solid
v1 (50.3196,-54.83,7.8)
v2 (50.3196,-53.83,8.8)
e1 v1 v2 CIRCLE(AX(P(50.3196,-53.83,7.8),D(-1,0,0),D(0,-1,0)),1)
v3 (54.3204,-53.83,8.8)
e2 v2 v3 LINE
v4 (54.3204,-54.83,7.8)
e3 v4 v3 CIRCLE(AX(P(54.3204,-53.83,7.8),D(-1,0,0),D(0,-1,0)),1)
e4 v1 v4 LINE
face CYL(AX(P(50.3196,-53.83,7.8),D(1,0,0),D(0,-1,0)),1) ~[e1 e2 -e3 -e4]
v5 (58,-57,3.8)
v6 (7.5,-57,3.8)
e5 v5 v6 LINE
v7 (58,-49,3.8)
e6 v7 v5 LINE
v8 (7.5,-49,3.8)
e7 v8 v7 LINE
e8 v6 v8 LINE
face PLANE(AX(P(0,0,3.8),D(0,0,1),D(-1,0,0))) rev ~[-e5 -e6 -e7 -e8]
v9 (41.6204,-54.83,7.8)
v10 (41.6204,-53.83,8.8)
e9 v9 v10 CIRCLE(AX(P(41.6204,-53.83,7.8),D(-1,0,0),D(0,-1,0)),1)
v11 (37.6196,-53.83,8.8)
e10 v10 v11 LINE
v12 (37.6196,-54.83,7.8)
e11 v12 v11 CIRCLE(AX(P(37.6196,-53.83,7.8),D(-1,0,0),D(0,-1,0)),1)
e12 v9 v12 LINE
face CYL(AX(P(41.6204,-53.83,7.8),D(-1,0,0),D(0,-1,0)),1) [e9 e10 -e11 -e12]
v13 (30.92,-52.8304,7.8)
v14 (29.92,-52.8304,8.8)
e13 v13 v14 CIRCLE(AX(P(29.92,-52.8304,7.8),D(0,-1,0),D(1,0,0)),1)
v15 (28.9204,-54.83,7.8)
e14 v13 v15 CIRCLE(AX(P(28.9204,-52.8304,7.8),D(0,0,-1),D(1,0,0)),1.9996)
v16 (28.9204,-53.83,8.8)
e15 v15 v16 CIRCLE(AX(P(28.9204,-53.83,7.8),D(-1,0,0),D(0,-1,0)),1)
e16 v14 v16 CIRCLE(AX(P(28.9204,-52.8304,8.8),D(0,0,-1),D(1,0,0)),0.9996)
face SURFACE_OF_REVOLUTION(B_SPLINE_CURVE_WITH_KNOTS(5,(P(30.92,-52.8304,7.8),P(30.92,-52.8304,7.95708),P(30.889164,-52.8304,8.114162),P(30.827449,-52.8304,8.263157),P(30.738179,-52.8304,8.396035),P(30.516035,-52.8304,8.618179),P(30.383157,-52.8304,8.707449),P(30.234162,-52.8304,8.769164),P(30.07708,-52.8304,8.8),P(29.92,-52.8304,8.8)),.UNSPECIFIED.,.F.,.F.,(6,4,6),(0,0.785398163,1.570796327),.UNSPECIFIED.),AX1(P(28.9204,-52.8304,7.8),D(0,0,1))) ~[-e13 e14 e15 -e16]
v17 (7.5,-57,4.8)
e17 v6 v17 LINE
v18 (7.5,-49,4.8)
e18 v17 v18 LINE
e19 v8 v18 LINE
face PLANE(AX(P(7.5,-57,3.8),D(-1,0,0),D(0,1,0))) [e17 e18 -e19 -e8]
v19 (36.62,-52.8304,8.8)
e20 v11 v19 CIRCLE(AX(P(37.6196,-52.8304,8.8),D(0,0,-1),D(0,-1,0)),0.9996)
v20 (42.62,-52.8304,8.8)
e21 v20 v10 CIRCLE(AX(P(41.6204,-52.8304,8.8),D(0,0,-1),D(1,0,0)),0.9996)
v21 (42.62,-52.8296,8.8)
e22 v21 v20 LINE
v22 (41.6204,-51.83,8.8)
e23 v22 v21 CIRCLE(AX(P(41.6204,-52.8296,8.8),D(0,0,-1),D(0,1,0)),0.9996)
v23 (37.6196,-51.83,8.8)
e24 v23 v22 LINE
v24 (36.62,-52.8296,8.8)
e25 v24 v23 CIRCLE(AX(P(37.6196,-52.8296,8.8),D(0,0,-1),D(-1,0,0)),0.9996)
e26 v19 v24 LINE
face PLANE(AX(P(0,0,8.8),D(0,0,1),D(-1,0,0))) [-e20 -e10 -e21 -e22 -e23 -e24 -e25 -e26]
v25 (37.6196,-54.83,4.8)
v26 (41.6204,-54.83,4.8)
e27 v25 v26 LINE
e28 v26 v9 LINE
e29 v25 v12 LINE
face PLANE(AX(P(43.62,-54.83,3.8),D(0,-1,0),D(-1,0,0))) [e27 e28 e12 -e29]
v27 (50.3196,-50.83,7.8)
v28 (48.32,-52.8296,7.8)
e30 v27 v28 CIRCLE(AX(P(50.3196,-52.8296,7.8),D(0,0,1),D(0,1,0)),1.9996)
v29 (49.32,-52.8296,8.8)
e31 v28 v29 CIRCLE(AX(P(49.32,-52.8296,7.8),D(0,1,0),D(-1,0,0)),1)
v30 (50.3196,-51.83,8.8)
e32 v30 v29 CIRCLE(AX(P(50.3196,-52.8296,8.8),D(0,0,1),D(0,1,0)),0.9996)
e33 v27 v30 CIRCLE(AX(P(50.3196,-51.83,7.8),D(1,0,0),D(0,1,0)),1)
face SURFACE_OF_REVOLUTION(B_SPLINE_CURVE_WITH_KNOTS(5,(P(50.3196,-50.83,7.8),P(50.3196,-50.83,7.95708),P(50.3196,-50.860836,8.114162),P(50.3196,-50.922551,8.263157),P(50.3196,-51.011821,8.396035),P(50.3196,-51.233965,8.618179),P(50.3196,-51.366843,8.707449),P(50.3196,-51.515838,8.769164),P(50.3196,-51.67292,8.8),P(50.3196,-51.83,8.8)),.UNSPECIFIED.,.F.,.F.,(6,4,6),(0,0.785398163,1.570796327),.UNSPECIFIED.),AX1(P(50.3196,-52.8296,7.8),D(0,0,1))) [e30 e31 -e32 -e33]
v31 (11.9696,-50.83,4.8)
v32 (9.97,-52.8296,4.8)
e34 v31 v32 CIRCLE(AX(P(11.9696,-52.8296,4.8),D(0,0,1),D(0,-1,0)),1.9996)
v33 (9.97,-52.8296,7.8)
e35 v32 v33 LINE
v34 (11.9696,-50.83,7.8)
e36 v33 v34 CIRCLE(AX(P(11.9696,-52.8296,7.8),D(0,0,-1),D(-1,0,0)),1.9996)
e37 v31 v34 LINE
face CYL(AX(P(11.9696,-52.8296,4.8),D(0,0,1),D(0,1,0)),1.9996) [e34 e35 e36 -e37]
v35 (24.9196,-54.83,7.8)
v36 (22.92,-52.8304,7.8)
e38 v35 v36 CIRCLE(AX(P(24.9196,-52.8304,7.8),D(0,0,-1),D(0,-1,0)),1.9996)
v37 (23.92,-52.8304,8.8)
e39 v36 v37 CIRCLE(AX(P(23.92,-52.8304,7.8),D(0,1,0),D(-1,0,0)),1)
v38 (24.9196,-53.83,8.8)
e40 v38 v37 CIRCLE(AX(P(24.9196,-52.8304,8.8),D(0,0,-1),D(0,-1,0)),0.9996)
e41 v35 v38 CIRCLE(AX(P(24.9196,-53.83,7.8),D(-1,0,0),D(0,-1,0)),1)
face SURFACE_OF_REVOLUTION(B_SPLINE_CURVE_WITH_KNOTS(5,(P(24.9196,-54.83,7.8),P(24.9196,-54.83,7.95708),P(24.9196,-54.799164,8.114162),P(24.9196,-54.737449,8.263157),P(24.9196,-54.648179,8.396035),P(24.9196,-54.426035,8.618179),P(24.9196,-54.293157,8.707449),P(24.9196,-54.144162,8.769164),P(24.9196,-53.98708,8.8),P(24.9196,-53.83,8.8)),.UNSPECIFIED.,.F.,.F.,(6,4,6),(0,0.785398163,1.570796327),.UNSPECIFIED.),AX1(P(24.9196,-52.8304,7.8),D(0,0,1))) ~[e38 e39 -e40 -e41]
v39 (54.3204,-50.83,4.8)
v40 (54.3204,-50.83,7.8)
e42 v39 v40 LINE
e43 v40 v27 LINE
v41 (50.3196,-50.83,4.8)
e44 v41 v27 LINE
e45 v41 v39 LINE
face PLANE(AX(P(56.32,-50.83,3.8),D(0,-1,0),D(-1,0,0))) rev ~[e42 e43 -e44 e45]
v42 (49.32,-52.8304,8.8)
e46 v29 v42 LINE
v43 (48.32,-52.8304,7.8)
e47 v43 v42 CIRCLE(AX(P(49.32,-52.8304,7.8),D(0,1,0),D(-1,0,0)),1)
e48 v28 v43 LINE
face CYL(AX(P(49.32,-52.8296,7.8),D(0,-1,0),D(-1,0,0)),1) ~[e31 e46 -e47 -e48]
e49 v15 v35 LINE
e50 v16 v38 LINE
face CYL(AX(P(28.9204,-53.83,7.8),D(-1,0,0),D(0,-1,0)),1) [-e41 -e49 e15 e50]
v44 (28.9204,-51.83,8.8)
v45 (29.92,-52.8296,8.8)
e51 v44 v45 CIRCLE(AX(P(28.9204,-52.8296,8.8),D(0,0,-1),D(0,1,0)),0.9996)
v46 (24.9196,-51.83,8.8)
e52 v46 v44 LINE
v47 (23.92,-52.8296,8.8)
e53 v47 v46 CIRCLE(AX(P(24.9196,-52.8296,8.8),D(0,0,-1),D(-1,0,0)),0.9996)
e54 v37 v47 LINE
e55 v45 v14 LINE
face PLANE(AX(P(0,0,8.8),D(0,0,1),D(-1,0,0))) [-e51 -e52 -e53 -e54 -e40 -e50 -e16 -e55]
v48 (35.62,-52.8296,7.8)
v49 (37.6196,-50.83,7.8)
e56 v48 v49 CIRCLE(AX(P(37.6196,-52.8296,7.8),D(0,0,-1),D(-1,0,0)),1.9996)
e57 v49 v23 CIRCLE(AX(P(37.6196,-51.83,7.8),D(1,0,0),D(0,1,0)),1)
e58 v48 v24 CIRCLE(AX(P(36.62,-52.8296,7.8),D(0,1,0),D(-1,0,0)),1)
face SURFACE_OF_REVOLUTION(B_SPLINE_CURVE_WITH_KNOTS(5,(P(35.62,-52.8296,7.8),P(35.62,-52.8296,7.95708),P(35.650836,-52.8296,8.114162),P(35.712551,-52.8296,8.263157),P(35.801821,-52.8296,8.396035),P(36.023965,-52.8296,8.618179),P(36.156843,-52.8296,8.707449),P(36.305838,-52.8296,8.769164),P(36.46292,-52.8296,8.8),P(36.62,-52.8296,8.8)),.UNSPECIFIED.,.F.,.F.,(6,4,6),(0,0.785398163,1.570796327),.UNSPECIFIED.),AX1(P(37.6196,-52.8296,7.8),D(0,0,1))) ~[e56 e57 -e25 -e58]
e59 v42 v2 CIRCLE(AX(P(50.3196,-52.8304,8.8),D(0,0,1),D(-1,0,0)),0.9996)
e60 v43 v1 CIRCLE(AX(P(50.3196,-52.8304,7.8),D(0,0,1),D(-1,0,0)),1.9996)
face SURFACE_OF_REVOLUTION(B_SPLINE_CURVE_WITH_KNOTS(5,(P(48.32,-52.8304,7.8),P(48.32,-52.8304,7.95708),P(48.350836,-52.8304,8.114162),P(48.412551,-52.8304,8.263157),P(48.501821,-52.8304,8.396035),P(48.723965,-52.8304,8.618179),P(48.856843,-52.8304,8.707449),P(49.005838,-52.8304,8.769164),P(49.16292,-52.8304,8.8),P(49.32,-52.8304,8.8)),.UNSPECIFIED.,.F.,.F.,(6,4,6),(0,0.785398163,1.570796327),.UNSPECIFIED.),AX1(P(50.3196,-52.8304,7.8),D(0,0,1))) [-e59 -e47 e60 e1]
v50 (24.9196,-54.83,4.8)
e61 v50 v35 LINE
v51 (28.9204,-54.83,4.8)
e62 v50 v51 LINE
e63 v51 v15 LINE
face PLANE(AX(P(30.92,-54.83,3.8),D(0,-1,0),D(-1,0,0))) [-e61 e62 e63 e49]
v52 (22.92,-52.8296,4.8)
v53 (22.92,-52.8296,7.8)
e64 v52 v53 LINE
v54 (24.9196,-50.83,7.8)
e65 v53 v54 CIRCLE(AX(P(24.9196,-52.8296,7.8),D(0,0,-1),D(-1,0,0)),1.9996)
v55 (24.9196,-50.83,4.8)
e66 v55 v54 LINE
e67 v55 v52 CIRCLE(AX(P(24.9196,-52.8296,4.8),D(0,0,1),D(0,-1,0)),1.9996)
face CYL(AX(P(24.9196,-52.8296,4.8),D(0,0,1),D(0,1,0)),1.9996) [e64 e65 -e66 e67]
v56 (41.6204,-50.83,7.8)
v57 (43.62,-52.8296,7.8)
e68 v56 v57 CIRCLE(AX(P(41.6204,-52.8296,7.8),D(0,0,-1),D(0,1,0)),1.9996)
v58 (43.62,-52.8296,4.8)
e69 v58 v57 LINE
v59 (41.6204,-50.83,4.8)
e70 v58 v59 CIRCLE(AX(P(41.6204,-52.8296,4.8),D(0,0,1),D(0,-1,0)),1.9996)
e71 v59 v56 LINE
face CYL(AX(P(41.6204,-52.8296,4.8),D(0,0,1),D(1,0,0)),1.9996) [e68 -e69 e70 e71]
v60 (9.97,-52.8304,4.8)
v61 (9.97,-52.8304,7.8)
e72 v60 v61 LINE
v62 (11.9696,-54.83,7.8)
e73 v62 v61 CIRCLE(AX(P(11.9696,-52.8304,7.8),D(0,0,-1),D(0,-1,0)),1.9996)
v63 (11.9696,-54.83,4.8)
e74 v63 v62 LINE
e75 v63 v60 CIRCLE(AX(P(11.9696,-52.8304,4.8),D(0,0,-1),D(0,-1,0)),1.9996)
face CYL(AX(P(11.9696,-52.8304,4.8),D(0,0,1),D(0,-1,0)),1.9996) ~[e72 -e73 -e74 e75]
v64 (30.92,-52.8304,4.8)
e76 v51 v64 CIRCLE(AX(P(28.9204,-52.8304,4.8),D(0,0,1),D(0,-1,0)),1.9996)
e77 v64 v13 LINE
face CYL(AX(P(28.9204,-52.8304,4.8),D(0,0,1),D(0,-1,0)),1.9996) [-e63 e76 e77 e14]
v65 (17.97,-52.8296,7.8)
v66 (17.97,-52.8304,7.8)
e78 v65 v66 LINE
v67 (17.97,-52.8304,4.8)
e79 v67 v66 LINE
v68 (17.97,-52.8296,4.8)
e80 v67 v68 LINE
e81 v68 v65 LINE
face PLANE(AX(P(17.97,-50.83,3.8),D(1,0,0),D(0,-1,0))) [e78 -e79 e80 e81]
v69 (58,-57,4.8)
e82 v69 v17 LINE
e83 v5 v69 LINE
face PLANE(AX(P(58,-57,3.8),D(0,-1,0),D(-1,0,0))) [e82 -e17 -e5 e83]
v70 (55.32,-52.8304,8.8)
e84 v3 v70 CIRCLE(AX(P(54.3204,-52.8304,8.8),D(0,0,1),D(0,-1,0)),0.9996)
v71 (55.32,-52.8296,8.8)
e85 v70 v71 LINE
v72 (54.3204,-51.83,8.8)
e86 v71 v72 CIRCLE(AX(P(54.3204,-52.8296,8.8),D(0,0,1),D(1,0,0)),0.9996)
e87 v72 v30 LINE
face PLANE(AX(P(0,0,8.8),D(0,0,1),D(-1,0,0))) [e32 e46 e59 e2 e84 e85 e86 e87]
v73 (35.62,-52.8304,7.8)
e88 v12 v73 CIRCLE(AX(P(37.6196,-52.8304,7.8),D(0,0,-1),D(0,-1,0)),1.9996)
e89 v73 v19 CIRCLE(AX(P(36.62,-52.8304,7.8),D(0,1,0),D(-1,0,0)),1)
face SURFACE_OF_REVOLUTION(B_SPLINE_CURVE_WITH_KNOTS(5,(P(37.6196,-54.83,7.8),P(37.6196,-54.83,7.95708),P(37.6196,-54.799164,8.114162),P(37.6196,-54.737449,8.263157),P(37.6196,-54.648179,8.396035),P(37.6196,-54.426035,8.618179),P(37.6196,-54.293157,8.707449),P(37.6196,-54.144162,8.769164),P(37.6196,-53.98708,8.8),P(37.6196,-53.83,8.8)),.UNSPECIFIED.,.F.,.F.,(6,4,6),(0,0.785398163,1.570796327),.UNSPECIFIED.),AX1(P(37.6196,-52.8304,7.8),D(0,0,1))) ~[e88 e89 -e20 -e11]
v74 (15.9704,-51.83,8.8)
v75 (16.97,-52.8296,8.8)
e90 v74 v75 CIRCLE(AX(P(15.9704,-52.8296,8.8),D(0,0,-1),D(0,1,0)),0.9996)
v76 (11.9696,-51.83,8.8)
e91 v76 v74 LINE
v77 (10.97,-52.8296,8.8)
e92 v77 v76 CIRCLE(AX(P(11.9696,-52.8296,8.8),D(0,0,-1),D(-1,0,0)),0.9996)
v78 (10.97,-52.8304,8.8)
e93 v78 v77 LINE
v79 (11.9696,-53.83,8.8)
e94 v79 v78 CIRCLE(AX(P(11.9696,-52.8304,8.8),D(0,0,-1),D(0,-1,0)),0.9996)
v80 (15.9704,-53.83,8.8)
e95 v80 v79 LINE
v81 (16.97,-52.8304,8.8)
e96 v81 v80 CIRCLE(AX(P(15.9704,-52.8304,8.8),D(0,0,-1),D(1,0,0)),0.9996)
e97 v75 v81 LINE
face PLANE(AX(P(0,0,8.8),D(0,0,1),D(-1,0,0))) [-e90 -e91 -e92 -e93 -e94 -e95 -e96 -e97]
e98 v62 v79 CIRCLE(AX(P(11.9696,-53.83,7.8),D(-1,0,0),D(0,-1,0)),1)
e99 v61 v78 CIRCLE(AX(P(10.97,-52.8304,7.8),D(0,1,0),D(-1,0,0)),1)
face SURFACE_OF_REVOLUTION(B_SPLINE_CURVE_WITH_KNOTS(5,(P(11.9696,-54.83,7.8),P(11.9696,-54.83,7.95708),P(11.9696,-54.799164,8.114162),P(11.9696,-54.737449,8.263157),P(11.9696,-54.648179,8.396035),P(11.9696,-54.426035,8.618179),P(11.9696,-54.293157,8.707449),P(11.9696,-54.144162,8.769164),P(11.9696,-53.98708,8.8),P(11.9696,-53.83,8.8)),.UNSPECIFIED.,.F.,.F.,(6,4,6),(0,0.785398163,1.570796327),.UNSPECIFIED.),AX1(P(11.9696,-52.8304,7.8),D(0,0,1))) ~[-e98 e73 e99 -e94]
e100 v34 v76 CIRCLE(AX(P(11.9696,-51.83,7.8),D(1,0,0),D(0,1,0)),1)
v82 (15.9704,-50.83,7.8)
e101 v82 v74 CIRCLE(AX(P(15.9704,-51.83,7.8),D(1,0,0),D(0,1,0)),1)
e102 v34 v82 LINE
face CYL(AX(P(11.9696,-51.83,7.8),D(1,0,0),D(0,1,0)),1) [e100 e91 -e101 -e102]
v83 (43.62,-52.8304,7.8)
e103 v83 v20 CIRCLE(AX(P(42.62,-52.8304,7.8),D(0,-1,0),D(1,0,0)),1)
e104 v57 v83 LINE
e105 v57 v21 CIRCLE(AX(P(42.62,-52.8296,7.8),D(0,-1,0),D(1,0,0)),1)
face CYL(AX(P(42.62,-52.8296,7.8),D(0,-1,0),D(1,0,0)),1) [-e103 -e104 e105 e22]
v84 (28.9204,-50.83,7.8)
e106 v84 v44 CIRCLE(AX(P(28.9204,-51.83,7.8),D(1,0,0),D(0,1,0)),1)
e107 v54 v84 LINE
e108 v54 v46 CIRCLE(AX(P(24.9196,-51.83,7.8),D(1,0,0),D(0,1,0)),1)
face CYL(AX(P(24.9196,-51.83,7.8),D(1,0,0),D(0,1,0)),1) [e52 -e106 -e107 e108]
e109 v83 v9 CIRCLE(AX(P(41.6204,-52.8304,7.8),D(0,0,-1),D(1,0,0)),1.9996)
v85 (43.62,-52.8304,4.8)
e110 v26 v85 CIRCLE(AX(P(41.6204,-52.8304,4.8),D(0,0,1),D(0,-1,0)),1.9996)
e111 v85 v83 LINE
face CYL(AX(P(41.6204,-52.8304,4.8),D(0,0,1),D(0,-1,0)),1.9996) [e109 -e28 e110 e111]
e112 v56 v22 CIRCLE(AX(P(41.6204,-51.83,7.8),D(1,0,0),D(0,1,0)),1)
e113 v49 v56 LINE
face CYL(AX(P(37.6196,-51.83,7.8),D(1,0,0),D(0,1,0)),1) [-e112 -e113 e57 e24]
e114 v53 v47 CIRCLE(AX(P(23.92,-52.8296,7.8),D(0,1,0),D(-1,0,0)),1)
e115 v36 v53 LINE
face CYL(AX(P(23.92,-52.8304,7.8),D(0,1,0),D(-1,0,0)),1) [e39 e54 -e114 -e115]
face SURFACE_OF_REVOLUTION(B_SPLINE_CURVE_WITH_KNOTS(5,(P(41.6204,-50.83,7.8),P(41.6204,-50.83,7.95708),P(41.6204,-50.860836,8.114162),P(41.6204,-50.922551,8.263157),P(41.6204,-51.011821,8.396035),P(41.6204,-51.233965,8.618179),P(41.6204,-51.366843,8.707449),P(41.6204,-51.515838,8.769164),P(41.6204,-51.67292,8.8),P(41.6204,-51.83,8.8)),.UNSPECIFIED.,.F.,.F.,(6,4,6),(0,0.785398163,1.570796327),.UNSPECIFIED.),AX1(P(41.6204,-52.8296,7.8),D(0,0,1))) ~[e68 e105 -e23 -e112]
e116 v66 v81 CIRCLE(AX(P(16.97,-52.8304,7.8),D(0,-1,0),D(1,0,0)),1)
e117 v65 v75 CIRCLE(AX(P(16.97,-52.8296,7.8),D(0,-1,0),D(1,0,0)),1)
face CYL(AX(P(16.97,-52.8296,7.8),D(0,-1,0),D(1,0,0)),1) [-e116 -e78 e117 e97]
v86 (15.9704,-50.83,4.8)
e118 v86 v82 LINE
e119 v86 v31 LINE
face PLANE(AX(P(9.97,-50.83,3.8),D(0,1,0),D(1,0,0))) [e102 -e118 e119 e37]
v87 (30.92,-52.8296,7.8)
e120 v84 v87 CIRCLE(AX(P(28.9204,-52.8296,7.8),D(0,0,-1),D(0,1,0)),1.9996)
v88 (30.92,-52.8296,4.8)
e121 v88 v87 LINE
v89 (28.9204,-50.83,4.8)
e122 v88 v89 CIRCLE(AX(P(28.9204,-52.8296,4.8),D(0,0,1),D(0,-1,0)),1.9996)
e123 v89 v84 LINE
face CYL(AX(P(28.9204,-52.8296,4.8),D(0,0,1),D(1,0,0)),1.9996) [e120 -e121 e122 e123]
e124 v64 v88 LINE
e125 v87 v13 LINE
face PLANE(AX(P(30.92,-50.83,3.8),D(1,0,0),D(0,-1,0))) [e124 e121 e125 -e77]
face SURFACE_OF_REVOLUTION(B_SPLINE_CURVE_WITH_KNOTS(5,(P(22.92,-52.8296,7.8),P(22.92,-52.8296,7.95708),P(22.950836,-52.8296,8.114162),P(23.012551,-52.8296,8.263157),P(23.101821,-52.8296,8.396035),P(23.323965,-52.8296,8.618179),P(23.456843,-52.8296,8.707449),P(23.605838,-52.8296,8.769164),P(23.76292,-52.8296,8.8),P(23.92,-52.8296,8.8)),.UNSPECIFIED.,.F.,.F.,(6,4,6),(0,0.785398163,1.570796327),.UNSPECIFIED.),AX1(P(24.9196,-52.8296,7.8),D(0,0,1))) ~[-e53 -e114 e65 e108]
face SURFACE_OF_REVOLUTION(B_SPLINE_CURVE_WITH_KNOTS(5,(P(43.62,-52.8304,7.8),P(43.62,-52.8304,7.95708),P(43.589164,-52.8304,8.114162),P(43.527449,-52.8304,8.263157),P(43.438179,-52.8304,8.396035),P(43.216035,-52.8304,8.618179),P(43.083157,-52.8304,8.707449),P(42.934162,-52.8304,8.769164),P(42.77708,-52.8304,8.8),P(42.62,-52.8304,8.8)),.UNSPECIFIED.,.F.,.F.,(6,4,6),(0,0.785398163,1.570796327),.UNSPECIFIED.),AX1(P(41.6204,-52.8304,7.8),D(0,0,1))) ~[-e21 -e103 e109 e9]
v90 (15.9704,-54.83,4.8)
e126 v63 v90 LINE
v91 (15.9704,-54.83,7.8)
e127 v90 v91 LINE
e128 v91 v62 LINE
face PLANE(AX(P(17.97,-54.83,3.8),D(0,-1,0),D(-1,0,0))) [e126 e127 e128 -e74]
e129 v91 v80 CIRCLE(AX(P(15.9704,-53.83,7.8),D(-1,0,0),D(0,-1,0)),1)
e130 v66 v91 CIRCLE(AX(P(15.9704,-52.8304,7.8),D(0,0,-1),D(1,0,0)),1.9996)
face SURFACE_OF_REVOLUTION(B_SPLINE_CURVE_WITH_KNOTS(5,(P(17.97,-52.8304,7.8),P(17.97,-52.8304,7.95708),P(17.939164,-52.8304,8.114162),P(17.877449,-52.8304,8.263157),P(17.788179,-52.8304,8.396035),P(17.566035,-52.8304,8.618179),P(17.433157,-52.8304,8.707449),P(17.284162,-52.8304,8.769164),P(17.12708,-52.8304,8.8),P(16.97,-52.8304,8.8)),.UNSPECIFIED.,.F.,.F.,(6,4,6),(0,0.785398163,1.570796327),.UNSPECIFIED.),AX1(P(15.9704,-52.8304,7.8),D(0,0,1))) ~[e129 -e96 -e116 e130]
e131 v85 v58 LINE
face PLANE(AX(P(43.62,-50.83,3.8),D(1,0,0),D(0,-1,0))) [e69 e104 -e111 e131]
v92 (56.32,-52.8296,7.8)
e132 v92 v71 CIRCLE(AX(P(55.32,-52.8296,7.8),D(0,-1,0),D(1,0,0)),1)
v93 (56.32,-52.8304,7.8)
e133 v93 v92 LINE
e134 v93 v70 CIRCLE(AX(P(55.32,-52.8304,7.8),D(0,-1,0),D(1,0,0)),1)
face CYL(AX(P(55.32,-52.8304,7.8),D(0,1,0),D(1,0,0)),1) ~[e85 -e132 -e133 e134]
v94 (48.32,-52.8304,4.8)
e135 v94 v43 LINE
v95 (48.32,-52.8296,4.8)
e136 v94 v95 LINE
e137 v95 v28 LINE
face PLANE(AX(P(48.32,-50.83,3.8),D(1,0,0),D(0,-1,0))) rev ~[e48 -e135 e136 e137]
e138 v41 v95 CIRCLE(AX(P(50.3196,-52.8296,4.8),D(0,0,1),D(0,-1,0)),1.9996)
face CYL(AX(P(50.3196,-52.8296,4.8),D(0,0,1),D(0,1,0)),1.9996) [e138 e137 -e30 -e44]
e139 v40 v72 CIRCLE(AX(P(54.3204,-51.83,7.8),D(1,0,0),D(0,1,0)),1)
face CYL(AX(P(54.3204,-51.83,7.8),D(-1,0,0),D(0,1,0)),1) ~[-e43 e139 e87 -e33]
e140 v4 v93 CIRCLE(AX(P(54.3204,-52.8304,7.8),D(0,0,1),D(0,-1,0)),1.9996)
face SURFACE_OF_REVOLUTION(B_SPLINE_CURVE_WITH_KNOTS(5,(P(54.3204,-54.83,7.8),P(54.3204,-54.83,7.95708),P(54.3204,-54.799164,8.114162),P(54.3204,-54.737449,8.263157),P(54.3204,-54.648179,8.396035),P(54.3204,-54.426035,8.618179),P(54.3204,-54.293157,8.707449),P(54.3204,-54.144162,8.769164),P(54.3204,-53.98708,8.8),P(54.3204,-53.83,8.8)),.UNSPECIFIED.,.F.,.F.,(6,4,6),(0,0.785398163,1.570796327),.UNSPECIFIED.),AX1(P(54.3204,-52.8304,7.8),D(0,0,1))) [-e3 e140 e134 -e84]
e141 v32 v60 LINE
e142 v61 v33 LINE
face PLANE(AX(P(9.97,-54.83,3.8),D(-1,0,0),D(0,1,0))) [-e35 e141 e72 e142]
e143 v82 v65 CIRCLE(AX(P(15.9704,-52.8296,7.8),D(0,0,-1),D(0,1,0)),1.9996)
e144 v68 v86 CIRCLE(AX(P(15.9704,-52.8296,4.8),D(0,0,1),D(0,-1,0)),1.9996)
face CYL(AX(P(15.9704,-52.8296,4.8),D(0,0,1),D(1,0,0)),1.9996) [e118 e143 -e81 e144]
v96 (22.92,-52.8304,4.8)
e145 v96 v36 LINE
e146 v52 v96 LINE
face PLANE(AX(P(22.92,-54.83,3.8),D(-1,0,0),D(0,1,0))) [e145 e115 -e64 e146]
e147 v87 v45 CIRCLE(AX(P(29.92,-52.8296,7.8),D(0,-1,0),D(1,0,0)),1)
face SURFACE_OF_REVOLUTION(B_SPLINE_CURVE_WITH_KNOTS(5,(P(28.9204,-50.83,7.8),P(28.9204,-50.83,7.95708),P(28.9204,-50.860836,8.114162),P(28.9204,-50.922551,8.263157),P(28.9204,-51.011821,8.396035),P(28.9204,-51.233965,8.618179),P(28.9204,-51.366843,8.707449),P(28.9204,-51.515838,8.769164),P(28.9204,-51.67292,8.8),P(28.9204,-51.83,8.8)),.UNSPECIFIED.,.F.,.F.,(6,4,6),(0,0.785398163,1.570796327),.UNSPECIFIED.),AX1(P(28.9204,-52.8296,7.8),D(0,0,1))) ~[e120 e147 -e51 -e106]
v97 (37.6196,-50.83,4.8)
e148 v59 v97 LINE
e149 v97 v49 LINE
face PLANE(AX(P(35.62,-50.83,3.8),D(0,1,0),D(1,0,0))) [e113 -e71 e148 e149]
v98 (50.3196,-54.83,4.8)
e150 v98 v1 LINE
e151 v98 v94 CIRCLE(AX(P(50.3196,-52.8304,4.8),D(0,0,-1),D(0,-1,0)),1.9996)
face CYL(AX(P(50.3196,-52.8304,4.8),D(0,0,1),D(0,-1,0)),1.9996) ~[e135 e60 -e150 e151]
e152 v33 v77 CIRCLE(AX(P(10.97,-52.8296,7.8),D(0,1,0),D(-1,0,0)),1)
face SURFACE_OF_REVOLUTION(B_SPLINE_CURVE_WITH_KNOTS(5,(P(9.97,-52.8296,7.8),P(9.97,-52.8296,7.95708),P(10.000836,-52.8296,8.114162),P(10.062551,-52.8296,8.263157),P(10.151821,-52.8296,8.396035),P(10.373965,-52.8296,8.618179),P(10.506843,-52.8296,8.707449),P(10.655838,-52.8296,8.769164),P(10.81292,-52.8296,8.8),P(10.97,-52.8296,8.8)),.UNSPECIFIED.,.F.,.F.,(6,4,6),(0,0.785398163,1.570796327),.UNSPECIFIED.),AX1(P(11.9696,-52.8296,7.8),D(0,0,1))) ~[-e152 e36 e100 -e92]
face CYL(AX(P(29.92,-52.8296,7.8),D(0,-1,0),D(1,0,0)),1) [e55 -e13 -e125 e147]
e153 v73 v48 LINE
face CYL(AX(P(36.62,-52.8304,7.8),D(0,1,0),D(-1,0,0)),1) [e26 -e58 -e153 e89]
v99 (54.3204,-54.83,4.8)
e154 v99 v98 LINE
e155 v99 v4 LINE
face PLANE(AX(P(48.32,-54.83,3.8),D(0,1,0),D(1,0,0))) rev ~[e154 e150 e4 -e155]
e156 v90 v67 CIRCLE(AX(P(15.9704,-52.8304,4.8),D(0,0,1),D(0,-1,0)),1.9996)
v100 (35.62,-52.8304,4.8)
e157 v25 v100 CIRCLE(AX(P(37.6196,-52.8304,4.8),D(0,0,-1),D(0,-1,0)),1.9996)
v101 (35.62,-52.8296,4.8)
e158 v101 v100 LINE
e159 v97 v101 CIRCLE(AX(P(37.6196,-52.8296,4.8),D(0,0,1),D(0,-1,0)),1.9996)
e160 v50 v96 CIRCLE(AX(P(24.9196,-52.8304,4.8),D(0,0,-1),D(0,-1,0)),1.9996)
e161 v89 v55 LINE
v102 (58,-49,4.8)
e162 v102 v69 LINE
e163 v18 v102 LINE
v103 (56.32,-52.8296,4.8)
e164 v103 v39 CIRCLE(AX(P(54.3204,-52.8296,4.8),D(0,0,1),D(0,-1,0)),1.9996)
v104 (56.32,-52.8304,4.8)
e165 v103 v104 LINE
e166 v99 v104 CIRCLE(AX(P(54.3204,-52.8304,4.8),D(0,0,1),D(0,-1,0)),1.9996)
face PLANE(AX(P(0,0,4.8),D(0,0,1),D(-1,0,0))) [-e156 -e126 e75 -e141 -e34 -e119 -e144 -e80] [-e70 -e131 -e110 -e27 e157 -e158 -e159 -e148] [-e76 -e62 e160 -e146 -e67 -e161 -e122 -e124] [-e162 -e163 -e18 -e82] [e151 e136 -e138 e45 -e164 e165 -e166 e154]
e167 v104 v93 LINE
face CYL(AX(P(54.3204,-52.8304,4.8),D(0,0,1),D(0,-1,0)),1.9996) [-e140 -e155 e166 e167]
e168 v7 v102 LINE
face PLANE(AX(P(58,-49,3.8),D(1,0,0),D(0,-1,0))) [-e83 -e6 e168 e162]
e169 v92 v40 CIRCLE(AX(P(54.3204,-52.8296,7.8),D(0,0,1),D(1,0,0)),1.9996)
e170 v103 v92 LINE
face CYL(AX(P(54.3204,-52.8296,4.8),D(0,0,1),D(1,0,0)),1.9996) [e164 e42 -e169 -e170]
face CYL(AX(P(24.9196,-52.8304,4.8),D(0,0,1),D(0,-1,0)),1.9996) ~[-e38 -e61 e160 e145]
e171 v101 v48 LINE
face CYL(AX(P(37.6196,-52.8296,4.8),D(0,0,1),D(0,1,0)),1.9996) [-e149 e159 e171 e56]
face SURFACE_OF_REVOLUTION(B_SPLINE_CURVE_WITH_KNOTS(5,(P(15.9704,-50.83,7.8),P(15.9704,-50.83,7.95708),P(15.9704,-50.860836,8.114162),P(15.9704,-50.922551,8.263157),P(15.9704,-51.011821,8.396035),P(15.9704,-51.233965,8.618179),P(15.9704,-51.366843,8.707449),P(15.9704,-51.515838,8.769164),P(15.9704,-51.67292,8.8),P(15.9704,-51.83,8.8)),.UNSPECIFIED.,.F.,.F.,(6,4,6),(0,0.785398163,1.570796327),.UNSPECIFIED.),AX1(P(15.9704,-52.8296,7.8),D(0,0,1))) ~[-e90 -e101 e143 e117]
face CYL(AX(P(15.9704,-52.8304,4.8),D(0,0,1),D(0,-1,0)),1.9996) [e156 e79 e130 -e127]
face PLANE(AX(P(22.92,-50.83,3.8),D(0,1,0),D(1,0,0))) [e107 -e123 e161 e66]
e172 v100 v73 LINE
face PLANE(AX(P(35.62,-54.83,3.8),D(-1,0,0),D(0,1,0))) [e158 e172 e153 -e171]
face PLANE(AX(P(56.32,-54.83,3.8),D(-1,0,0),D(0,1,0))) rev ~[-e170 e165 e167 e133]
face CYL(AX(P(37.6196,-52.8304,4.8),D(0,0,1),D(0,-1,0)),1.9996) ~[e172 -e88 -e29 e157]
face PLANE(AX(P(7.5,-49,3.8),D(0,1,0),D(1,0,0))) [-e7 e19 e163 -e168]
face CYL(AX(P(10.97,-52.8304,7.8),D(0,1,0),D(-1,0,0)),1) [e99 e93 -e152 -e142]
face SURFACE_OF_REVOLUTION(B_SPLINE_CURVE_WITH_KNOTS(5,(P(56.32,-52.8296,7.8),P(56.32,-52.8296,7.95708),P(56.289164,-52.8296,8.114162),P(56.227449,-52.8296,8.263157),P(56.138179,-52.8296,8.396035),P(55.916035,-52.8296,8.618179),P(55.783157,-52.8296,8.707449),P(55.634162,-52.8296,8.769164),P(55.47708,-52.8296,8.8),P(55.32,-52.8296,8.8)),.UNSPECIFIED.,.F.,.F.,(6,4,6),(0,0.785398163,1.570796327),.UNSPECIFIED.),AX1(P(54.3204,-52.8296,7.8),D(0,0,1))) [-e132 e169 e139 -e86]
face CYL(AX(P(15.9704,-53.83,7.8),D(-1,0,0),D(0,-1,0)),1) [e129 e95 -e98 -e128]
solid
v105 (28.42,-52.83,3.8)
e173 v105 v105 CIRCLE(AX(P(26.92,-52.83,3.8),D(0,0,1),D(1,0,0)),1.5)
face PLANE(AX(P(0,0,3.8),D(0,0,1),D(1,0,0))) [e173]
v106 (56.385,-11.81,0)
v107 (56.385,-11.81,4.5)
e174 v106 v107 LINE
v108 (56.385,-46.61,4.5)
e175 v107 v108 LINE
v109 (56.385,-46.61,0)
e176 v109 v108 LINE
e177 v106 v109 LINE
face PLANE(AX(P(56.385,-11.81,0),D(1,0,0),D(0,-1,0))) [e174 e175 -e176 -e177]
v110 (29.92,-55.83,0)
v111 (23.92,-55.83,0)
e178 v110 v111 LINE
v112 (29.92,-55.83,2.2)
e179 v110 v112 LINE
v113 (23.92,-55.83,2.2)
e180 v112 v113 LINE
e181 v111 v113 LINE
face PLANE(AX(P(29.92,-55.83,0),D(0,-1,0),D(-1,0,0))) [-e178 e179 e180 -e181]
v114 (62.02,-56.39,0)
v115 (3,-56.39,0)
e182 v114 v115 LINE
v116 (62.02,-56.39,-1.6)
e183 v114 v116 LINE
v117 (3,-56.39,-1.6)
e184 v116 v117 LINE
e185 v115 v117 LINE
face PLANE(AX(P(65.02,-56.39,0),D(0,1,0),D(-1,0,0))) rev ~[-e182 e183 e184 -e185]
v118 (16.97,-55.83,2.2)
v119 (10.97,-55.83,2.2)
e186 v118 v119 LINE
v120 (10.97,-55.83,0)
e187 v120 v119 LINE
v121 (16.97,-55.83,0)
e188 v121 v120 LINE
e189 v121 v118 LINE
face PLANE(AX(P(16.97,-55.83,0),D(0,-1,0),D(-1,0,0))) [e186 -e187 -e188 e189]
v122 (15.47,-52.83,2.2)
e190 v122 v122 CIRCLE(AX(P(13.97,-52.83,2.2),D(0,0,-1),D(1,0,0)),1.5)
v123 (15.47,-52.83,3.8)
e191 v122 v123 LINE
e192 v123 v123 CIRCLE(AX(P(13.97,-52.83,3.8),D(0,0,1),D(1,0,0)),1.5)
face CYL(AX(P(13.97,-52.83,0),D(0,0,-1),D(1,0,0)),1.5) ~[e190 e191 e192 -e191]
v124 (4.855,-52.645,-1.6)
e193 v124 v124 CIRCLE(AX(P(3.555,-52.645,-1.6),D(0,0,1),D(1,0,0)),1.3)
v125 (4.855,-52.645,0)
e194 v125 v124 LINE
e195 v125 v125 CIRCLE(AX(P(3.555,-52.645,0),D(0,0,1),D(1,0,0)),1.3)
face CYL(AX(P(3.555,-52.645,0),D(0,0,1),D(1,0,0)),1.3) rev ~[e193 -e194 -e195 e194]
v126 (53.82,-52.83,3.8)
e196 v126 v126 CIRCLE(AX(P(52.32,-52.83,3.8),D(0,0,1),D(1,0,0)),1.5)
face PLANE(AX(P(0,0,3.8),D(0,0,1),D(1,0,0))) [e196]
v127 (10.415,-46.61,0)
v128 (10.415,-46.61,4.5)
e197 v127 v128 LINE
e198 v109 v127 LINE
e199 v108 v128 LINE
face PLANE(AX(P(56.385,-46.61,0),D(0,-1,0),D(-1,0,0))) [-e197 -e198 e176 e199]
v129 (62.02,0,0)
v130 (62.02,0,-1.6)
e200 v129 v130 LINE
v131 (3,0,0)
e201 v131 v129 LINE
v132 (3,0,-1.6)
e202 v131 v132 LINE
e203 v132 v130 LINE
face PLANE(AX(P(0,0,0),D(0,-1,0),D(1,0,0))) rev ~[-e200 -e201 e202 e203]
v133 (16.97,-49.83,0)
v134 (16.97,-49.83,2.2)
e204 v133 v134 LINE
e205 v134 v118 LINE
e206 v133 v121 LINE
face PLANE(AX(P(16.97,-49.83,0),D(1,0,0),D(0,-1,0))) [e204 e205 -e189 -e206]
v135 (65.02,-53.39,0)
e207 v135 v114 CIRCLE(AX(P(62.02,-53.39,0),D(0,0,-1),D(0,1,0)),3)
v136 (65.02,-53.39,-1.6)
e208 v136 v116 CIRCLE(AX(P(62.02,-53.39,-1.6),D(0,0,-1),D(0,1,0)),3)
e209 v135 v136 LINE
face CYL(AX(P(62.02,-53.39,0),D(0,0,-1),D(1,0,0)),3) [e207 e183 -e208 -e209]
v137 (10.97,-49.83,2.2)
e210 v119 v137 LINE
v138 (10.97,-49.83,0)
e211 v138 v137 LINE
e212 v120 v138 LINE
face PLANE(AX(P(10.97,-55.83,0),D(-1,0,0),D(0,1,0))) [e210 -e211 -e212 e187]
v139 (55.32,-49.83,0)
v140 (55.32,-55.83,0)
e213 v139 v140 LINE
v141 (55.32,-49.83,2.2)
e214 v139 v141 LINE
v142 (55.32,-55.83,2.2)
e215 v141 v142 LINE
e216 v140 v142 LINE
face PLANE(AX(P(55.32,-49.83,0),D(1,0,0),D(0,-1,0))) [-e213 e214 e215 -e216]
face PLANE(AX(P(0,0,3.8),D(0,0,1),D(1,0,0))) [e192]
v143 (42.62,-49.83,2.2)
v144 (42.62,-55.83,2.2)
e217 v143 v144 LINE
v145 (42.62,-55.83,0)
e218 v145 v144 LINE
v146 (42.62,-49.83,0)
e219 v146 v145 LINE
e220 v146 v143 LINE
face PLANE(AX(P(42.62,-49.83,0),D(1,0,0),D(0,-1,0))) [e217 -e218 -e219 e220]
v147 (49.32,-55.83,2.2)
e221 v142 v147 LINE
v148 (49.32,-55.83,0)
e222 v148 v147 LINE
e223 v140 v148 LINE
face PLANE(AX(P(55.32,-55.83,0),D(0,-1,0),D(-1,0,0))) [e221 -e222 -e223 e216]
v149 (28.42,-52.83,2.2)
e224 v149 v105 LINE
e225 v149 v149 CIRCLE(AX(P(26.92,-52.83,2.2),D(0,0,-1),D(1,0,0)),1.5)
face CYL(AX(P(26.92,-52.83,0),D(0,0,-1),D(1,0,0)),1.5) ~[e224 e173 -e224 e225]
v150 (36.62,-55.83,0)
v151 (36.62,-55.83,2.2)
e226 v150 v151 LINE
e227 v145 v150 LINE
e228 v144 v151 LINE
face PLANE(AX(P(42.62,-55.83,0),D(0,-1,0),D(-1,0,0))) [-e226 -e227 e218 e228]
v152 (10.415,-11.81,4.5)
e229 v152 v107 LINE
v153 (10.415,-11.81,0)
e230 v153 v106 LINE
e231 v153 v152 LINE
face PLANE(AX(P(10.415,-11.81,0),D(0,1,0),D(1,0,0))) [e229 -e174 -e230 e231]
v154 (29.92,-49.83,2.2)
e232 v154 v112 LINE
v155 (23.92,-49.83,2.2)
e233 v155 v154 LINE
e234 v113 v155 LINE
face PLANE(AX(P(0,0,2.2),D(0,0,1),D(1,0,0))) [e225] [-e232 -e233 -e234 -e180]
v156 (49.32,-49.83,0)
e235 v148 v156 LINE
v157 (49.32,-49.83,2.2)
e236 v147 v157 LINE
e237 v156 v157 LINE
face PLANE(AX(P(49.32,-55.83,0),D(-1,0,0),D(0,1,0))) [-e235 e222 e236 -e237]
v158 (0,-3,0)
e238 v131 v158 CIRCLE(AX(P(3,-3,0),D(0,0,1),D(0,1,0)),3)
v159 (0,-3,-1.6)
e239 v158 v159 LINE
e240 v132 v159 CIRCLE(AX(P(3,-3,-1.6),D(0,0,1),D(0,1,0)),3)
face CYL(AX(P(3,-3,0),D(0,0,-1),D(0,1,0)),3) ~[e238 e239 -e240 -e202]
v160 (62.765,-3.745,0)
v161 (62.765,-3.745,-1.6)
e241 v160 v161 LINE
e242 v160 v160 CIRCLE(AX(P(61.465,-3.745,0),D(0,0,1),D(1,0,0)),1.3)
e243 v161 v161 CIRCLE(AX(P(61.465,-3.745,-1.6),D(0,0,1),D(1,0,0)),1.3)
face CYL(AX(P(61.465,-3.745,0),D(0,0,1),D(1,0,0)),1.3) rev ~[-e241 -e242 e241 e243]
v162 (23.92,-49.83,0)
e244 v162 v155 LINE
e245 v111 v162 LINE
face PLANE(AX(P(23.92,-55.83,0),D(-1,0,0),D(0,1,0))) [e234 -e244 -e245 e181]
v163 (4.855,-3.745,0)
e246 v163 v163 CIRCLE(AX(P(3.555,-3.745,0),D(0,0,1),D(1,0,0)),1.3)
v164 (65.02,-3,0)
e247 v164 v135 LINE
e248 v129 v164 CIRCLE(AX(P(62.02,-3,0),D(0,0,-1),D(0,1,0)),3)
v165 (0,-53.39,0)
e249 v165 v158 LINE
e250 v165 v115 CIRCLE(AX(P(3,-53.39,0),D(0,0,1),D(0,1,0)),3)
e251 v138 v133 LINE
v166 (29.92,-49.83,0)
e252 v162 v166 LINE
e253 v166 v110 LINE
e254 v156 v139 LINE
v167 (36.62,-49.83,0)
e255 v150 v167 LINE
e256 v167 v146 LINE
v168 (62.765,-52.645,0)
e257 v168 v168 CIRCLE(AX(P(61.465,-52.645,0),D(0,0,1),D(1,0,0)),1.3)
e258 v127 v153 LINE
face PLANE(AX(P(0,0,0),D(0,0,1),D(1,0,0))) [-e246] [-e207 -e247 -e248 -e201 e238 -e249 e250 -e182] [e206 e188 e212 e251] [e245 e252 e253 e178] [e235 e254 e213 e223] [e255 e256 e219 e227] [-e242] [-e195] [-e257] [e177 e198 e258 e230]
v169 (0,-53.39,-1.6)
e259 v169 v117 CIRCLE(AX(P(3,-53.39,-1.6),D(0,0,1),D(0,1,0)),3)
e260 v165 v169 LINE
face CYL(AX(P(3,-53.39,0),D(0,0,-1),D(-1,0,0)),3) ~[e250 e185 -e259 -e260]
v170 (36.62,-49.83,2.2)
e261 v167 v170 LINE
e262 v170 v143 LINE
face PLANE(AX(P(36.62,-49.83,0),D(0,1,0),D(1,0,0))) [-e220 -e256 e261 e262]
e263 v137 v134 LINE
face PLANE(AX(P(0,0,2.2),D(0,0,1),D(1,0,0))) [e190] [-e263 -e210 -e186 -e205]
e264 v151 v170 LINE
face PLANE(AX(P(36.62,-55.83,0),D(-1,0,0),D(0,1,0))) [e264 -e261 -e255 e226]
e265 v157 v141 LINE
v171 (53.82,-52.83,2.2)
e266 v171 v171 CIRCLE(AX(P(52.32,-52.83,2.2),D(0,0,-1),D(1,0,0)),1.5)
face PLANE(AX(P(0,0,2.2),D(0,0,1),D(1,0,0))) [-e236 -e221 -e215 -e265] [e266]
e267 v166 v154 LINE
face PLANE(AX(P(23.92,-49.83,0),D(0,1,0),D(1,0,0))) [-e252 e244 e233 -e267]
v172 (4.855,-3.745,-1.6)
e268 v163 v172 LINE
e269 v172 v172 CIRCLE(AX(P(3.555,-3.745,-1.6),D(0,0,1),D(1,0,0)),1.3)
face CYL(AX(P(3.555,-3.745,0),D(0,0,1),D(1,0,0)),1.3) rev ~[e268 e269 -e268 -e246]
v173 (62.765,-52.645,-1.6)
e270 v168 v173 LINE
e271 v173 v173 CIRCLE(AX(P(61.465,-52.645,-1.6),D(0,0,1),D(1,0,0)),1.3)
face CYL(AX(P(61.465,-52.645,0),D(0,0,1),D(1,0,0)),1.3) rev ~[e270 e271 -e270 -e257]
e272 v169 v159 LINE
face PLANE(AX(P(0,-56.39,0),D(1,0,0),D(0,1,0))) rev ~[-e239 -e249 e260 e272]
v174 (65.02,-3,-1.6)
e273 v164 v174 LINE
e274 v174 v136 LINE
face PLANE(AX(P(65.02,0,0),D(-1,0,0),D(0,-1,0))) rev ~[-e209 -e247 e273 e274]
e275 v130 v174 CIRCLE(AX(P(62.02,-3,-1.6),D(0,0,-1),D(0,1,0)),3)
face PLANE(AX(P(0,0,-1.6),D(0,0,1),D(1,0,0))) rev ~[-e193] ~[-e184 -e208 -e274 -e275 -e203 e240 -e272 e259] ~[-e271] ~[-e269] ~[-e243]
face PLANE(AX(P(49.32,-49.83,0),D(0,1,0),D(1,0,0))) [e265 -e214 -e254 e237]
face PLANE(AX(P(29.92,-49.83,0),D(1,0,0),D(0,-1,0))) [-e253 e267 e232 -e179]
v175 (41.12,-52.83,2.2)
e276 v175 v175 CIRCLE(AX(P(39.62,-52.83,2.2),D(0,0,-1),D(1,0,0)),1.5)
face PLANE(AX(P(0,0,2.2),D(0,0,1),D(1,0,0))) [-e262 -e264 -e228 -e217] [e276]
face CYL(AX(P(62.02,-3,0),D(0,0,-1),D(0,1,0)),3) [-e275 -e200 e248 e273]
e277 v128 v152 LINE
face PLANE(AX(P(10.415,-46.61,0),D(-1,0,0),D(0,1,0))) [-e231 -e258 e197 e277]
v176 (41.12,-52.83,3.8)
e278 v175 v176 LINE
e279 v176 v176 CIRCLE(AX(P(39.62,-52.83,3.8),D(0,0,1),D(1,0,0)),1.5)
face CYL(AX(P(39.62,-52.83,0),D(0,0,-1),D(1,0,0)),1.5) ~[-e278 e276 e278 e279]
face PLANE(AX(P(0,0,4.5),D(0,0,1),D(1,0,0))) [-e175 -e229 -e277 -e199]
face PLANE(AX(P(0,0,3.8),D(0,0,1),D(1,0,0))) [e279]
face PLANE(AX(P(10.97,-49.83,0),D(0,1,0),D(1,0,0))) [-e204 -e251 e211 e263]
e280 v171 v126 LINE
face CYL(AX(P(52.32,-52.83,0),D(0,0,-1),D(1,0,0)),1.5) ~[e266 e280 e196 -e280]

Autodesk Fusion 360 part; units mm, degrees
sketch "pcb" plane through (0, 0, 0) normal (0, 0, 1) x (1, 0, 0)
  line L0 (0, 0) -> (65.02, 0)
  line L1 (65.02, 0) -> (65.02, -56.39)
  line L2 (65.02, -56.39) -> (0, -56.39)
  line L3 (0, -56.39) -> (0, 0)
  line L4 (32.51, -56.39) -> (32.51, 0) construction
  line L5 (0, -28.195) -> (65.02, -28.195) construction
  circle A0 centre (3.555, -3.745) radius 1.3
  circle A1 centre (61.465, -3.745) radius 1.3
  circle A2 centre (3.555, -52.645) radius 1.3
  circle A3 centre (61.465, -52.645) radius 1.3
  line L6 (10.415, -11.81) -> (56.385, -11.81)
  line L7 (56.385, -11.81) -> (56.385, -46.61)
  line L8 (56.385, -46.61) -> (10.415, -46.61)
  line L9 (10.415, -46.61) -> (10.415, -11.81)
  line L10 (33.4, -11.81) -> (33.4, -46.61) construction
  line L11 (10.415, -29.21) -> (56.385, -29.21) construction
  line L12 (55.32, -55.83) -> (49.32, -55.83)
  line L13 (49.32, -55.83) -> (49.32, -49.83)
  line L14 (49.32, -49.83) -> (55.32, -49.83)
  line L15 (55.32, -49.83) -> (55.32, -55.83)
  line L16 (55.32, -55.83) -> (49.32, -49.83) construction
  line L17 (49.32, -55.83) -> (55.32, -49.83) construction
  line L18 (36.62, -49.83) -> (42.62, -49.83)
  line L19 (36.62, -55.83) -> (36.62, -49.83)
  line L20 (42.62, -49.83) -> (42.62, -55.83)
  line L21 (42.62, -55.83) -> (36.62, -55.83)
  line L22 (23.92, -49.83) -> (29.92, -49.83)
  line L23 (23.92, -55.83) -> (23.92, -49.83)
  line L24 (29.92, -49.83) -> (29.92, -55.83)
  line L25 (29.92, -55.83) -> (23.92, -55.83)
  line L26 (16.97, -55.83) -> (10.97, -55.83)
  line L27 (10.97, -55.83) -> (10.97, -49.83)
  line L28 (10.97, -49.83) -> (16.97, -49.83)
  line L29 (16.97, -49.83) -> (16.97, -55.83)
  line L30 (16.97, -55.83) -> (10.97, -49.83) construction
  line L31 (10.97, -55.83) -> (16.97, -49.83) construction
  line L32 (26.92, -49.83) -> (26.92, -55.83) construction
  line L33 (23.92, -52.83) -> (29.92, -52.83) construction
  line L34 (39.62, -49.83) -> (39.62, -55.83) construction
  line L35 (36.62, -52.83) -> (42.62, -52.83) construction
  circle A4 centre (13.97, -52.83) radius 1.5
  circle A5 centre (26.92, -52.83) radius 1.5
  circle A6 centre (39.62, -52.83) radius 1.5
  circle A7 centre (52.32, -52.83) radius 1.5
  line L36 (7.2, -2) -> (57.82, -2)
  line L37 (57.82, -2) -> (57.82, -7)
  line L38 (57.82, -7) -> (7.2, -7)
  line L39 (7.2, -7) -> (7.2, -2)
  point P0 (52.32, -52.83)
  point P1 (13.97, -52.83)
  dimension "d1" = 65.02
  dimension "d2" = 56.39
  dimension "d3" = 2.6
  dimension "d6" = 57.91
  dimension "d7" = 48.9
  dimension "d8" = 45.97
  dimension "d9" = 34.8
  dimension "d11" = 33.4
  dimension "d12" = 27.18
  dimension "d13" = 6
  dimension "d14" = 6
  dimension "d15" = 12.7
  dimension "d16" = 3.56
  dimension "d19" = -12.7
  dimension "d20" = 0
  dimension "d21" = 6
  dimension "d22" = 6
  dimension "d24" = 3
  dimension "d25" = 3
  dimension "d26" = 3
  dimension "d27" = 3
  dimension "d28" = 50.62
  dimension "d29" = 5
  dimension "d30" = 7.2
  dimension "d31" = 2
  dimension "d80" = 13.97
extrude "Extrude1" add sketch "pcb" against normal blind 1.6 contours L0 L1 L2 L3 | L6 L7 L8 L9 | L12 L13 L14 L15 | L18 L19 L20 L21 | L22 L23 L24 L25 | L26 L27 L28 L29 | A4 | A5 | A6 | A7 | L36 L37 L38 L39 makes body 1
extrude "Extrude2" add sketch "pcb" along normal blind 4.5 contours L6 L7 L8 L9 bodies 1
extrude "Extrude3" add sketch "pcb" along normal blind 2.2 contours L12 L13 L14 L15 | L18 L19 L20 L21 | L22 L23 L24 L25 | L26 L27 L28 L29 | A4 | A5 | A6 | A7 bodies 1
extrude "Extrude4" add sketch "pcb" along normal blind 3.8 contours A4 | A5 | A6 | A7 bodies 1
fillet "Fillet1" radius 3 4 edges at (65.02, -56.39, -0.8) (0, 0, -0.8) (65.02, 0, -0.8) (0, -56.39, -0.8) on bodies 1
sketch "mount" plane through (0, 0, 0) normal (0, 0, 1) x (-1, 0, 0)
  arc A0 (0, 53.39) -> (-3, 56.39) centre (-3, 53.39) ccw
  line L0 (-3, 56.39) -> (-62.02, 56.39)
  arc A1 (-62.02, 56.39) -> (-65.02, 53.39) centre (-62.02, 53.39) ccw
  line L1 (-65.02, 53.39) -> (-65.02, 3)
  arc A2 (-65.02, 3) -> (-62.02, 0) centre (-62.02, 3) ccw
  line L2 (-62.02, 0) -> (-3, 0)
  arc A3 (-3, 0) -> (0, 3) centre (-3, 3) ccw
  line L3 (0, 3) -> (0, 53.39)
  line L4 (-55.32, 49.83) -> (-55.32, 55.83)
  line L5 (-55.32, 55.83) -> (-49.32, 55.83)
  line L6 (-49.32, 55.83) -> (-49.32, 49.83)
  line L7 (-49.32, 49.83) -> (-55.32, 49.83)
  line L8 (-16.97, 49.83) -> (-16.97, 55.83)
  line L9 (-16.97, 55.83) -> (-10.97, 55.83)
  line L10 (-10.97, 55.83) -> (-10.97, 49.83)
  line L11 (-10.97, 49.83) -> (-16.97, 49.83)
  line L12 (-42.62, 55.83) -> (-36.62, 55.83)
  line L13 (-36.62, 55.83) -> (-36.62, 49.83)
  line L14 (-36.62, 49.83) -> (-42.62, 49.83)
  line L15 (-42.62, 49.83) -> (-42.62, 55.83)
  line L16 (-29.92, 55.83) -> (-23.92, 55.83)
  line L17 (-23.92, 55.83) -> (-23.92, 49.83)
  line L18 (-23.92, 49.83) -> (-29.92, 49.83)
  line L19 (-29.92, 49.83) -> (-29.92, 55.83)
  line L20 (-10.415, 46.61) -> (-10.415, 11.81)
  line L21 (-10.415, 11.81) -> (-56.385, 11.81)
  line L22 (-56.385, 11.81) -> (-56.385, 46.61)
  line L23 (-56.385, 46.61) -> (-10.415, 46.61)
  circle A4 centre (-3.555, 3.745) radius 1.3
  circle A5 centre (-61.465, 3.745) radius 1.3
  circle A6 centre (-3.555, 52.645) radius 1.3
  circle A7 centre (-61.465, 52.645) radius 1.3
  circle A8 centre (-3.555, 3.745) radius 3
  circle A9 centre (-61.465, 3.745) radius 3
  circle A10 centre (-61.465, 52.645) radius 3
  circle A11 centre (-3.555, 52.645) radius 3
  dimension "d53" = 6
  dimension "d54" = 6
  dimension "d55" = 6
  dimension "d56" = 6
extrude "Extrude8" add sketch "mount" along normal blind 5.5 and the other way blind -4.5 separate body contours A0 L0 A1 L1 A2 L2 A3 L3 | L4 L5 L6 L7 | L8 L9 L10 L11 | L12 L13 L14 L15 | L16 L17 L18 L19 | A4 | A5 | A6 | A7 | A8 | A9 | A10 | A11 makes body 2
extrude "Extrude9" add sketch "mount" along normal blind 4.5 contours A4 | A5 | A6 | A7 | A8 | A9 | A10 | A11 bodies 2
extrude "Extrude10" add sketch "mount" against normal blind 3 contours A4 | A5 | A6 | A7 bodies 2
sketch "buttons" plane through (0, 0, 3.8) normal (0, 0, 1) x (-1, 0, 0)
  line L0 (-7.5, 49) -> (-58, 49)
  line L1 (-58, 49) -> (-58, 57)
  line L2 (-58, 57) -> (-7.5, 57)
  line L3 (-7.5, 57) -> (-7.5, 49)
  line L4 (-17.97, 54.83) -> (-9.97, 54.83)
  line L5 (-9.97, 54.83) -> (-9.97, 50.83)
  line L6 (-9.97, 50.83) -> (-17.97, 50.83)
  line L7 (-17.97, 50.83) -> (-17.97, 54.83)
  line L8 (-17.97, 54.83) -> (-9.97, 50.83) construction
  line L9 (-9.97, 54.83) -> (-17.97, 50.83) construction
  circle A0 centre (-26.92, 52.83) radius 1.5 construction
  circle A1 centre (-39.62, 52.83) radius 1.5 construction
  circle A2 centre (-52.32, 52.83) radius 1.5 construction
  circle A3 centre (-13.97, 52.83) radius 1.5 construction
  line L10 (-48.32, 54.83) -> (-56.32, 54.83)
  line L11 (-56.32, 54.83) -> (-56.32, 50.83)
  line L12 (-56.32, 50.83) -> (-48.32, 50.83)
  line L13 (-48.32, 50.83) -> (-48.32, 54.83)
  line L14 (-48.32, 54.83) -> (-56.32, 50.83) construction
  line L15 (-56.32, 54.83) -> (-48.32, 50.83) construction
  line L16 (-43.62, 54.83) -> (-35.62, 54.83)
  line L17 (-35.62, 54.83) -> (-35.62, 50.83)
  line L18 (-35.62, 50.83) -> (-43.62, 50.83)
  line L19 (-43.62, 50.83) -> (-43.62, 54.83)
  line L20 (-43.62, 54.83) -> (-35.62, 50.83) construction
  line L21 (-35.62, 54.83) -> (-43.62, 50.83) construction
  line L22 (-30.92, 54.83) -> (-22.92, 54.83)
  line L23 (-22.92, 54.83) -> (-22.92, 50.83)
  line L24 (-22.92, 50.83) -> (-30.92, 50.83)
  line L25 (-30.92, 50.83) -> (-30.92, 54.83)
  line L26 (-30.92, 54.83) -> (-22.92, 50.83) construction
  line L27 (-22.92, 54.83) -> (-30.92, 50.83) construction
  point P0 (-13.97, 52.83)
  point P1 (-52.32, 52.83)
  point P2 (-39.62, 52.83)
  point P3 (-26.92, 52.83)
  dimension "d66" = 8
  dimension "d67" = 4
  dimension "d68" = 8
  dimension "d69" = 4
  dimension "d70" = 8
  dimension "d71" = 4
  dimension "d72" = 8
  dimension "d73" = 4
extrude "Extrude11" add sketch "buttons" along normal blind 1 separate body contours L0 L1 L2 L3 | L4 L5 L6 L7 | L10 L11 L12 L13 | L16 L17 L18 L19 | L22 L23 L24 L25 makes body 3
extrude "Extrude12" add sketch "buttons" along normal blind 5 contours L4 L5 L6 L7 | L10 L11 L12 L13 | L16 L17 L18 L19 | L22 L23 L24 L25 bodies 3
fillet "Fillet2" radius 2 16 edges at (30.92, -50.83, 6.8) (22.92, -54.83, 6.8) (22.92, -50.83, 6.8) (48.32, -54.83, 6.8) (35.62, -54.83, 6.8) (17.97, -54.83, 6.8) (43.62, -54.83, 6.8) (56.32, -50.83, 6.8) (30.92, -54.83, 6.8) (17.97, -50.83, 6.8) (35.62, -50.83, 6.8) (48.32, -50.83, 6.8) (9.97, -50.83, 6.8) (43.62, -50.83, 6.8) (9.97, -54.83, 6.8) (56.32, -54.83, 6.8) on bodies 3
fillet "Fillet3" radius 1 16 edges at (17.97, -52.83, 8.8) (13.97, -50.83, 8.8) (9.97, -52.83, 8.8) (13.97, -54.83, 8.8) (30.92, -52.83, 8.8) (26.92, -50.83, 8.8) (22.92, -52.83, 8.8) (26.92, -54.83, 8.8) (39.62, -50.83, 8.8) (43.62, -52.83, 8.8) (39.62, -54.83, 8.8) (35.62, -52.83, 8.8) (52.32, -50.83, 8.8) (56.32, -52.83, 8.8) (52.32, -54.83, 8.8) (48.32, -52.83, 8.8) on bodies 3
hidden bodies 2
equation "d38 = 2.2 mm + 1.6 mm"
